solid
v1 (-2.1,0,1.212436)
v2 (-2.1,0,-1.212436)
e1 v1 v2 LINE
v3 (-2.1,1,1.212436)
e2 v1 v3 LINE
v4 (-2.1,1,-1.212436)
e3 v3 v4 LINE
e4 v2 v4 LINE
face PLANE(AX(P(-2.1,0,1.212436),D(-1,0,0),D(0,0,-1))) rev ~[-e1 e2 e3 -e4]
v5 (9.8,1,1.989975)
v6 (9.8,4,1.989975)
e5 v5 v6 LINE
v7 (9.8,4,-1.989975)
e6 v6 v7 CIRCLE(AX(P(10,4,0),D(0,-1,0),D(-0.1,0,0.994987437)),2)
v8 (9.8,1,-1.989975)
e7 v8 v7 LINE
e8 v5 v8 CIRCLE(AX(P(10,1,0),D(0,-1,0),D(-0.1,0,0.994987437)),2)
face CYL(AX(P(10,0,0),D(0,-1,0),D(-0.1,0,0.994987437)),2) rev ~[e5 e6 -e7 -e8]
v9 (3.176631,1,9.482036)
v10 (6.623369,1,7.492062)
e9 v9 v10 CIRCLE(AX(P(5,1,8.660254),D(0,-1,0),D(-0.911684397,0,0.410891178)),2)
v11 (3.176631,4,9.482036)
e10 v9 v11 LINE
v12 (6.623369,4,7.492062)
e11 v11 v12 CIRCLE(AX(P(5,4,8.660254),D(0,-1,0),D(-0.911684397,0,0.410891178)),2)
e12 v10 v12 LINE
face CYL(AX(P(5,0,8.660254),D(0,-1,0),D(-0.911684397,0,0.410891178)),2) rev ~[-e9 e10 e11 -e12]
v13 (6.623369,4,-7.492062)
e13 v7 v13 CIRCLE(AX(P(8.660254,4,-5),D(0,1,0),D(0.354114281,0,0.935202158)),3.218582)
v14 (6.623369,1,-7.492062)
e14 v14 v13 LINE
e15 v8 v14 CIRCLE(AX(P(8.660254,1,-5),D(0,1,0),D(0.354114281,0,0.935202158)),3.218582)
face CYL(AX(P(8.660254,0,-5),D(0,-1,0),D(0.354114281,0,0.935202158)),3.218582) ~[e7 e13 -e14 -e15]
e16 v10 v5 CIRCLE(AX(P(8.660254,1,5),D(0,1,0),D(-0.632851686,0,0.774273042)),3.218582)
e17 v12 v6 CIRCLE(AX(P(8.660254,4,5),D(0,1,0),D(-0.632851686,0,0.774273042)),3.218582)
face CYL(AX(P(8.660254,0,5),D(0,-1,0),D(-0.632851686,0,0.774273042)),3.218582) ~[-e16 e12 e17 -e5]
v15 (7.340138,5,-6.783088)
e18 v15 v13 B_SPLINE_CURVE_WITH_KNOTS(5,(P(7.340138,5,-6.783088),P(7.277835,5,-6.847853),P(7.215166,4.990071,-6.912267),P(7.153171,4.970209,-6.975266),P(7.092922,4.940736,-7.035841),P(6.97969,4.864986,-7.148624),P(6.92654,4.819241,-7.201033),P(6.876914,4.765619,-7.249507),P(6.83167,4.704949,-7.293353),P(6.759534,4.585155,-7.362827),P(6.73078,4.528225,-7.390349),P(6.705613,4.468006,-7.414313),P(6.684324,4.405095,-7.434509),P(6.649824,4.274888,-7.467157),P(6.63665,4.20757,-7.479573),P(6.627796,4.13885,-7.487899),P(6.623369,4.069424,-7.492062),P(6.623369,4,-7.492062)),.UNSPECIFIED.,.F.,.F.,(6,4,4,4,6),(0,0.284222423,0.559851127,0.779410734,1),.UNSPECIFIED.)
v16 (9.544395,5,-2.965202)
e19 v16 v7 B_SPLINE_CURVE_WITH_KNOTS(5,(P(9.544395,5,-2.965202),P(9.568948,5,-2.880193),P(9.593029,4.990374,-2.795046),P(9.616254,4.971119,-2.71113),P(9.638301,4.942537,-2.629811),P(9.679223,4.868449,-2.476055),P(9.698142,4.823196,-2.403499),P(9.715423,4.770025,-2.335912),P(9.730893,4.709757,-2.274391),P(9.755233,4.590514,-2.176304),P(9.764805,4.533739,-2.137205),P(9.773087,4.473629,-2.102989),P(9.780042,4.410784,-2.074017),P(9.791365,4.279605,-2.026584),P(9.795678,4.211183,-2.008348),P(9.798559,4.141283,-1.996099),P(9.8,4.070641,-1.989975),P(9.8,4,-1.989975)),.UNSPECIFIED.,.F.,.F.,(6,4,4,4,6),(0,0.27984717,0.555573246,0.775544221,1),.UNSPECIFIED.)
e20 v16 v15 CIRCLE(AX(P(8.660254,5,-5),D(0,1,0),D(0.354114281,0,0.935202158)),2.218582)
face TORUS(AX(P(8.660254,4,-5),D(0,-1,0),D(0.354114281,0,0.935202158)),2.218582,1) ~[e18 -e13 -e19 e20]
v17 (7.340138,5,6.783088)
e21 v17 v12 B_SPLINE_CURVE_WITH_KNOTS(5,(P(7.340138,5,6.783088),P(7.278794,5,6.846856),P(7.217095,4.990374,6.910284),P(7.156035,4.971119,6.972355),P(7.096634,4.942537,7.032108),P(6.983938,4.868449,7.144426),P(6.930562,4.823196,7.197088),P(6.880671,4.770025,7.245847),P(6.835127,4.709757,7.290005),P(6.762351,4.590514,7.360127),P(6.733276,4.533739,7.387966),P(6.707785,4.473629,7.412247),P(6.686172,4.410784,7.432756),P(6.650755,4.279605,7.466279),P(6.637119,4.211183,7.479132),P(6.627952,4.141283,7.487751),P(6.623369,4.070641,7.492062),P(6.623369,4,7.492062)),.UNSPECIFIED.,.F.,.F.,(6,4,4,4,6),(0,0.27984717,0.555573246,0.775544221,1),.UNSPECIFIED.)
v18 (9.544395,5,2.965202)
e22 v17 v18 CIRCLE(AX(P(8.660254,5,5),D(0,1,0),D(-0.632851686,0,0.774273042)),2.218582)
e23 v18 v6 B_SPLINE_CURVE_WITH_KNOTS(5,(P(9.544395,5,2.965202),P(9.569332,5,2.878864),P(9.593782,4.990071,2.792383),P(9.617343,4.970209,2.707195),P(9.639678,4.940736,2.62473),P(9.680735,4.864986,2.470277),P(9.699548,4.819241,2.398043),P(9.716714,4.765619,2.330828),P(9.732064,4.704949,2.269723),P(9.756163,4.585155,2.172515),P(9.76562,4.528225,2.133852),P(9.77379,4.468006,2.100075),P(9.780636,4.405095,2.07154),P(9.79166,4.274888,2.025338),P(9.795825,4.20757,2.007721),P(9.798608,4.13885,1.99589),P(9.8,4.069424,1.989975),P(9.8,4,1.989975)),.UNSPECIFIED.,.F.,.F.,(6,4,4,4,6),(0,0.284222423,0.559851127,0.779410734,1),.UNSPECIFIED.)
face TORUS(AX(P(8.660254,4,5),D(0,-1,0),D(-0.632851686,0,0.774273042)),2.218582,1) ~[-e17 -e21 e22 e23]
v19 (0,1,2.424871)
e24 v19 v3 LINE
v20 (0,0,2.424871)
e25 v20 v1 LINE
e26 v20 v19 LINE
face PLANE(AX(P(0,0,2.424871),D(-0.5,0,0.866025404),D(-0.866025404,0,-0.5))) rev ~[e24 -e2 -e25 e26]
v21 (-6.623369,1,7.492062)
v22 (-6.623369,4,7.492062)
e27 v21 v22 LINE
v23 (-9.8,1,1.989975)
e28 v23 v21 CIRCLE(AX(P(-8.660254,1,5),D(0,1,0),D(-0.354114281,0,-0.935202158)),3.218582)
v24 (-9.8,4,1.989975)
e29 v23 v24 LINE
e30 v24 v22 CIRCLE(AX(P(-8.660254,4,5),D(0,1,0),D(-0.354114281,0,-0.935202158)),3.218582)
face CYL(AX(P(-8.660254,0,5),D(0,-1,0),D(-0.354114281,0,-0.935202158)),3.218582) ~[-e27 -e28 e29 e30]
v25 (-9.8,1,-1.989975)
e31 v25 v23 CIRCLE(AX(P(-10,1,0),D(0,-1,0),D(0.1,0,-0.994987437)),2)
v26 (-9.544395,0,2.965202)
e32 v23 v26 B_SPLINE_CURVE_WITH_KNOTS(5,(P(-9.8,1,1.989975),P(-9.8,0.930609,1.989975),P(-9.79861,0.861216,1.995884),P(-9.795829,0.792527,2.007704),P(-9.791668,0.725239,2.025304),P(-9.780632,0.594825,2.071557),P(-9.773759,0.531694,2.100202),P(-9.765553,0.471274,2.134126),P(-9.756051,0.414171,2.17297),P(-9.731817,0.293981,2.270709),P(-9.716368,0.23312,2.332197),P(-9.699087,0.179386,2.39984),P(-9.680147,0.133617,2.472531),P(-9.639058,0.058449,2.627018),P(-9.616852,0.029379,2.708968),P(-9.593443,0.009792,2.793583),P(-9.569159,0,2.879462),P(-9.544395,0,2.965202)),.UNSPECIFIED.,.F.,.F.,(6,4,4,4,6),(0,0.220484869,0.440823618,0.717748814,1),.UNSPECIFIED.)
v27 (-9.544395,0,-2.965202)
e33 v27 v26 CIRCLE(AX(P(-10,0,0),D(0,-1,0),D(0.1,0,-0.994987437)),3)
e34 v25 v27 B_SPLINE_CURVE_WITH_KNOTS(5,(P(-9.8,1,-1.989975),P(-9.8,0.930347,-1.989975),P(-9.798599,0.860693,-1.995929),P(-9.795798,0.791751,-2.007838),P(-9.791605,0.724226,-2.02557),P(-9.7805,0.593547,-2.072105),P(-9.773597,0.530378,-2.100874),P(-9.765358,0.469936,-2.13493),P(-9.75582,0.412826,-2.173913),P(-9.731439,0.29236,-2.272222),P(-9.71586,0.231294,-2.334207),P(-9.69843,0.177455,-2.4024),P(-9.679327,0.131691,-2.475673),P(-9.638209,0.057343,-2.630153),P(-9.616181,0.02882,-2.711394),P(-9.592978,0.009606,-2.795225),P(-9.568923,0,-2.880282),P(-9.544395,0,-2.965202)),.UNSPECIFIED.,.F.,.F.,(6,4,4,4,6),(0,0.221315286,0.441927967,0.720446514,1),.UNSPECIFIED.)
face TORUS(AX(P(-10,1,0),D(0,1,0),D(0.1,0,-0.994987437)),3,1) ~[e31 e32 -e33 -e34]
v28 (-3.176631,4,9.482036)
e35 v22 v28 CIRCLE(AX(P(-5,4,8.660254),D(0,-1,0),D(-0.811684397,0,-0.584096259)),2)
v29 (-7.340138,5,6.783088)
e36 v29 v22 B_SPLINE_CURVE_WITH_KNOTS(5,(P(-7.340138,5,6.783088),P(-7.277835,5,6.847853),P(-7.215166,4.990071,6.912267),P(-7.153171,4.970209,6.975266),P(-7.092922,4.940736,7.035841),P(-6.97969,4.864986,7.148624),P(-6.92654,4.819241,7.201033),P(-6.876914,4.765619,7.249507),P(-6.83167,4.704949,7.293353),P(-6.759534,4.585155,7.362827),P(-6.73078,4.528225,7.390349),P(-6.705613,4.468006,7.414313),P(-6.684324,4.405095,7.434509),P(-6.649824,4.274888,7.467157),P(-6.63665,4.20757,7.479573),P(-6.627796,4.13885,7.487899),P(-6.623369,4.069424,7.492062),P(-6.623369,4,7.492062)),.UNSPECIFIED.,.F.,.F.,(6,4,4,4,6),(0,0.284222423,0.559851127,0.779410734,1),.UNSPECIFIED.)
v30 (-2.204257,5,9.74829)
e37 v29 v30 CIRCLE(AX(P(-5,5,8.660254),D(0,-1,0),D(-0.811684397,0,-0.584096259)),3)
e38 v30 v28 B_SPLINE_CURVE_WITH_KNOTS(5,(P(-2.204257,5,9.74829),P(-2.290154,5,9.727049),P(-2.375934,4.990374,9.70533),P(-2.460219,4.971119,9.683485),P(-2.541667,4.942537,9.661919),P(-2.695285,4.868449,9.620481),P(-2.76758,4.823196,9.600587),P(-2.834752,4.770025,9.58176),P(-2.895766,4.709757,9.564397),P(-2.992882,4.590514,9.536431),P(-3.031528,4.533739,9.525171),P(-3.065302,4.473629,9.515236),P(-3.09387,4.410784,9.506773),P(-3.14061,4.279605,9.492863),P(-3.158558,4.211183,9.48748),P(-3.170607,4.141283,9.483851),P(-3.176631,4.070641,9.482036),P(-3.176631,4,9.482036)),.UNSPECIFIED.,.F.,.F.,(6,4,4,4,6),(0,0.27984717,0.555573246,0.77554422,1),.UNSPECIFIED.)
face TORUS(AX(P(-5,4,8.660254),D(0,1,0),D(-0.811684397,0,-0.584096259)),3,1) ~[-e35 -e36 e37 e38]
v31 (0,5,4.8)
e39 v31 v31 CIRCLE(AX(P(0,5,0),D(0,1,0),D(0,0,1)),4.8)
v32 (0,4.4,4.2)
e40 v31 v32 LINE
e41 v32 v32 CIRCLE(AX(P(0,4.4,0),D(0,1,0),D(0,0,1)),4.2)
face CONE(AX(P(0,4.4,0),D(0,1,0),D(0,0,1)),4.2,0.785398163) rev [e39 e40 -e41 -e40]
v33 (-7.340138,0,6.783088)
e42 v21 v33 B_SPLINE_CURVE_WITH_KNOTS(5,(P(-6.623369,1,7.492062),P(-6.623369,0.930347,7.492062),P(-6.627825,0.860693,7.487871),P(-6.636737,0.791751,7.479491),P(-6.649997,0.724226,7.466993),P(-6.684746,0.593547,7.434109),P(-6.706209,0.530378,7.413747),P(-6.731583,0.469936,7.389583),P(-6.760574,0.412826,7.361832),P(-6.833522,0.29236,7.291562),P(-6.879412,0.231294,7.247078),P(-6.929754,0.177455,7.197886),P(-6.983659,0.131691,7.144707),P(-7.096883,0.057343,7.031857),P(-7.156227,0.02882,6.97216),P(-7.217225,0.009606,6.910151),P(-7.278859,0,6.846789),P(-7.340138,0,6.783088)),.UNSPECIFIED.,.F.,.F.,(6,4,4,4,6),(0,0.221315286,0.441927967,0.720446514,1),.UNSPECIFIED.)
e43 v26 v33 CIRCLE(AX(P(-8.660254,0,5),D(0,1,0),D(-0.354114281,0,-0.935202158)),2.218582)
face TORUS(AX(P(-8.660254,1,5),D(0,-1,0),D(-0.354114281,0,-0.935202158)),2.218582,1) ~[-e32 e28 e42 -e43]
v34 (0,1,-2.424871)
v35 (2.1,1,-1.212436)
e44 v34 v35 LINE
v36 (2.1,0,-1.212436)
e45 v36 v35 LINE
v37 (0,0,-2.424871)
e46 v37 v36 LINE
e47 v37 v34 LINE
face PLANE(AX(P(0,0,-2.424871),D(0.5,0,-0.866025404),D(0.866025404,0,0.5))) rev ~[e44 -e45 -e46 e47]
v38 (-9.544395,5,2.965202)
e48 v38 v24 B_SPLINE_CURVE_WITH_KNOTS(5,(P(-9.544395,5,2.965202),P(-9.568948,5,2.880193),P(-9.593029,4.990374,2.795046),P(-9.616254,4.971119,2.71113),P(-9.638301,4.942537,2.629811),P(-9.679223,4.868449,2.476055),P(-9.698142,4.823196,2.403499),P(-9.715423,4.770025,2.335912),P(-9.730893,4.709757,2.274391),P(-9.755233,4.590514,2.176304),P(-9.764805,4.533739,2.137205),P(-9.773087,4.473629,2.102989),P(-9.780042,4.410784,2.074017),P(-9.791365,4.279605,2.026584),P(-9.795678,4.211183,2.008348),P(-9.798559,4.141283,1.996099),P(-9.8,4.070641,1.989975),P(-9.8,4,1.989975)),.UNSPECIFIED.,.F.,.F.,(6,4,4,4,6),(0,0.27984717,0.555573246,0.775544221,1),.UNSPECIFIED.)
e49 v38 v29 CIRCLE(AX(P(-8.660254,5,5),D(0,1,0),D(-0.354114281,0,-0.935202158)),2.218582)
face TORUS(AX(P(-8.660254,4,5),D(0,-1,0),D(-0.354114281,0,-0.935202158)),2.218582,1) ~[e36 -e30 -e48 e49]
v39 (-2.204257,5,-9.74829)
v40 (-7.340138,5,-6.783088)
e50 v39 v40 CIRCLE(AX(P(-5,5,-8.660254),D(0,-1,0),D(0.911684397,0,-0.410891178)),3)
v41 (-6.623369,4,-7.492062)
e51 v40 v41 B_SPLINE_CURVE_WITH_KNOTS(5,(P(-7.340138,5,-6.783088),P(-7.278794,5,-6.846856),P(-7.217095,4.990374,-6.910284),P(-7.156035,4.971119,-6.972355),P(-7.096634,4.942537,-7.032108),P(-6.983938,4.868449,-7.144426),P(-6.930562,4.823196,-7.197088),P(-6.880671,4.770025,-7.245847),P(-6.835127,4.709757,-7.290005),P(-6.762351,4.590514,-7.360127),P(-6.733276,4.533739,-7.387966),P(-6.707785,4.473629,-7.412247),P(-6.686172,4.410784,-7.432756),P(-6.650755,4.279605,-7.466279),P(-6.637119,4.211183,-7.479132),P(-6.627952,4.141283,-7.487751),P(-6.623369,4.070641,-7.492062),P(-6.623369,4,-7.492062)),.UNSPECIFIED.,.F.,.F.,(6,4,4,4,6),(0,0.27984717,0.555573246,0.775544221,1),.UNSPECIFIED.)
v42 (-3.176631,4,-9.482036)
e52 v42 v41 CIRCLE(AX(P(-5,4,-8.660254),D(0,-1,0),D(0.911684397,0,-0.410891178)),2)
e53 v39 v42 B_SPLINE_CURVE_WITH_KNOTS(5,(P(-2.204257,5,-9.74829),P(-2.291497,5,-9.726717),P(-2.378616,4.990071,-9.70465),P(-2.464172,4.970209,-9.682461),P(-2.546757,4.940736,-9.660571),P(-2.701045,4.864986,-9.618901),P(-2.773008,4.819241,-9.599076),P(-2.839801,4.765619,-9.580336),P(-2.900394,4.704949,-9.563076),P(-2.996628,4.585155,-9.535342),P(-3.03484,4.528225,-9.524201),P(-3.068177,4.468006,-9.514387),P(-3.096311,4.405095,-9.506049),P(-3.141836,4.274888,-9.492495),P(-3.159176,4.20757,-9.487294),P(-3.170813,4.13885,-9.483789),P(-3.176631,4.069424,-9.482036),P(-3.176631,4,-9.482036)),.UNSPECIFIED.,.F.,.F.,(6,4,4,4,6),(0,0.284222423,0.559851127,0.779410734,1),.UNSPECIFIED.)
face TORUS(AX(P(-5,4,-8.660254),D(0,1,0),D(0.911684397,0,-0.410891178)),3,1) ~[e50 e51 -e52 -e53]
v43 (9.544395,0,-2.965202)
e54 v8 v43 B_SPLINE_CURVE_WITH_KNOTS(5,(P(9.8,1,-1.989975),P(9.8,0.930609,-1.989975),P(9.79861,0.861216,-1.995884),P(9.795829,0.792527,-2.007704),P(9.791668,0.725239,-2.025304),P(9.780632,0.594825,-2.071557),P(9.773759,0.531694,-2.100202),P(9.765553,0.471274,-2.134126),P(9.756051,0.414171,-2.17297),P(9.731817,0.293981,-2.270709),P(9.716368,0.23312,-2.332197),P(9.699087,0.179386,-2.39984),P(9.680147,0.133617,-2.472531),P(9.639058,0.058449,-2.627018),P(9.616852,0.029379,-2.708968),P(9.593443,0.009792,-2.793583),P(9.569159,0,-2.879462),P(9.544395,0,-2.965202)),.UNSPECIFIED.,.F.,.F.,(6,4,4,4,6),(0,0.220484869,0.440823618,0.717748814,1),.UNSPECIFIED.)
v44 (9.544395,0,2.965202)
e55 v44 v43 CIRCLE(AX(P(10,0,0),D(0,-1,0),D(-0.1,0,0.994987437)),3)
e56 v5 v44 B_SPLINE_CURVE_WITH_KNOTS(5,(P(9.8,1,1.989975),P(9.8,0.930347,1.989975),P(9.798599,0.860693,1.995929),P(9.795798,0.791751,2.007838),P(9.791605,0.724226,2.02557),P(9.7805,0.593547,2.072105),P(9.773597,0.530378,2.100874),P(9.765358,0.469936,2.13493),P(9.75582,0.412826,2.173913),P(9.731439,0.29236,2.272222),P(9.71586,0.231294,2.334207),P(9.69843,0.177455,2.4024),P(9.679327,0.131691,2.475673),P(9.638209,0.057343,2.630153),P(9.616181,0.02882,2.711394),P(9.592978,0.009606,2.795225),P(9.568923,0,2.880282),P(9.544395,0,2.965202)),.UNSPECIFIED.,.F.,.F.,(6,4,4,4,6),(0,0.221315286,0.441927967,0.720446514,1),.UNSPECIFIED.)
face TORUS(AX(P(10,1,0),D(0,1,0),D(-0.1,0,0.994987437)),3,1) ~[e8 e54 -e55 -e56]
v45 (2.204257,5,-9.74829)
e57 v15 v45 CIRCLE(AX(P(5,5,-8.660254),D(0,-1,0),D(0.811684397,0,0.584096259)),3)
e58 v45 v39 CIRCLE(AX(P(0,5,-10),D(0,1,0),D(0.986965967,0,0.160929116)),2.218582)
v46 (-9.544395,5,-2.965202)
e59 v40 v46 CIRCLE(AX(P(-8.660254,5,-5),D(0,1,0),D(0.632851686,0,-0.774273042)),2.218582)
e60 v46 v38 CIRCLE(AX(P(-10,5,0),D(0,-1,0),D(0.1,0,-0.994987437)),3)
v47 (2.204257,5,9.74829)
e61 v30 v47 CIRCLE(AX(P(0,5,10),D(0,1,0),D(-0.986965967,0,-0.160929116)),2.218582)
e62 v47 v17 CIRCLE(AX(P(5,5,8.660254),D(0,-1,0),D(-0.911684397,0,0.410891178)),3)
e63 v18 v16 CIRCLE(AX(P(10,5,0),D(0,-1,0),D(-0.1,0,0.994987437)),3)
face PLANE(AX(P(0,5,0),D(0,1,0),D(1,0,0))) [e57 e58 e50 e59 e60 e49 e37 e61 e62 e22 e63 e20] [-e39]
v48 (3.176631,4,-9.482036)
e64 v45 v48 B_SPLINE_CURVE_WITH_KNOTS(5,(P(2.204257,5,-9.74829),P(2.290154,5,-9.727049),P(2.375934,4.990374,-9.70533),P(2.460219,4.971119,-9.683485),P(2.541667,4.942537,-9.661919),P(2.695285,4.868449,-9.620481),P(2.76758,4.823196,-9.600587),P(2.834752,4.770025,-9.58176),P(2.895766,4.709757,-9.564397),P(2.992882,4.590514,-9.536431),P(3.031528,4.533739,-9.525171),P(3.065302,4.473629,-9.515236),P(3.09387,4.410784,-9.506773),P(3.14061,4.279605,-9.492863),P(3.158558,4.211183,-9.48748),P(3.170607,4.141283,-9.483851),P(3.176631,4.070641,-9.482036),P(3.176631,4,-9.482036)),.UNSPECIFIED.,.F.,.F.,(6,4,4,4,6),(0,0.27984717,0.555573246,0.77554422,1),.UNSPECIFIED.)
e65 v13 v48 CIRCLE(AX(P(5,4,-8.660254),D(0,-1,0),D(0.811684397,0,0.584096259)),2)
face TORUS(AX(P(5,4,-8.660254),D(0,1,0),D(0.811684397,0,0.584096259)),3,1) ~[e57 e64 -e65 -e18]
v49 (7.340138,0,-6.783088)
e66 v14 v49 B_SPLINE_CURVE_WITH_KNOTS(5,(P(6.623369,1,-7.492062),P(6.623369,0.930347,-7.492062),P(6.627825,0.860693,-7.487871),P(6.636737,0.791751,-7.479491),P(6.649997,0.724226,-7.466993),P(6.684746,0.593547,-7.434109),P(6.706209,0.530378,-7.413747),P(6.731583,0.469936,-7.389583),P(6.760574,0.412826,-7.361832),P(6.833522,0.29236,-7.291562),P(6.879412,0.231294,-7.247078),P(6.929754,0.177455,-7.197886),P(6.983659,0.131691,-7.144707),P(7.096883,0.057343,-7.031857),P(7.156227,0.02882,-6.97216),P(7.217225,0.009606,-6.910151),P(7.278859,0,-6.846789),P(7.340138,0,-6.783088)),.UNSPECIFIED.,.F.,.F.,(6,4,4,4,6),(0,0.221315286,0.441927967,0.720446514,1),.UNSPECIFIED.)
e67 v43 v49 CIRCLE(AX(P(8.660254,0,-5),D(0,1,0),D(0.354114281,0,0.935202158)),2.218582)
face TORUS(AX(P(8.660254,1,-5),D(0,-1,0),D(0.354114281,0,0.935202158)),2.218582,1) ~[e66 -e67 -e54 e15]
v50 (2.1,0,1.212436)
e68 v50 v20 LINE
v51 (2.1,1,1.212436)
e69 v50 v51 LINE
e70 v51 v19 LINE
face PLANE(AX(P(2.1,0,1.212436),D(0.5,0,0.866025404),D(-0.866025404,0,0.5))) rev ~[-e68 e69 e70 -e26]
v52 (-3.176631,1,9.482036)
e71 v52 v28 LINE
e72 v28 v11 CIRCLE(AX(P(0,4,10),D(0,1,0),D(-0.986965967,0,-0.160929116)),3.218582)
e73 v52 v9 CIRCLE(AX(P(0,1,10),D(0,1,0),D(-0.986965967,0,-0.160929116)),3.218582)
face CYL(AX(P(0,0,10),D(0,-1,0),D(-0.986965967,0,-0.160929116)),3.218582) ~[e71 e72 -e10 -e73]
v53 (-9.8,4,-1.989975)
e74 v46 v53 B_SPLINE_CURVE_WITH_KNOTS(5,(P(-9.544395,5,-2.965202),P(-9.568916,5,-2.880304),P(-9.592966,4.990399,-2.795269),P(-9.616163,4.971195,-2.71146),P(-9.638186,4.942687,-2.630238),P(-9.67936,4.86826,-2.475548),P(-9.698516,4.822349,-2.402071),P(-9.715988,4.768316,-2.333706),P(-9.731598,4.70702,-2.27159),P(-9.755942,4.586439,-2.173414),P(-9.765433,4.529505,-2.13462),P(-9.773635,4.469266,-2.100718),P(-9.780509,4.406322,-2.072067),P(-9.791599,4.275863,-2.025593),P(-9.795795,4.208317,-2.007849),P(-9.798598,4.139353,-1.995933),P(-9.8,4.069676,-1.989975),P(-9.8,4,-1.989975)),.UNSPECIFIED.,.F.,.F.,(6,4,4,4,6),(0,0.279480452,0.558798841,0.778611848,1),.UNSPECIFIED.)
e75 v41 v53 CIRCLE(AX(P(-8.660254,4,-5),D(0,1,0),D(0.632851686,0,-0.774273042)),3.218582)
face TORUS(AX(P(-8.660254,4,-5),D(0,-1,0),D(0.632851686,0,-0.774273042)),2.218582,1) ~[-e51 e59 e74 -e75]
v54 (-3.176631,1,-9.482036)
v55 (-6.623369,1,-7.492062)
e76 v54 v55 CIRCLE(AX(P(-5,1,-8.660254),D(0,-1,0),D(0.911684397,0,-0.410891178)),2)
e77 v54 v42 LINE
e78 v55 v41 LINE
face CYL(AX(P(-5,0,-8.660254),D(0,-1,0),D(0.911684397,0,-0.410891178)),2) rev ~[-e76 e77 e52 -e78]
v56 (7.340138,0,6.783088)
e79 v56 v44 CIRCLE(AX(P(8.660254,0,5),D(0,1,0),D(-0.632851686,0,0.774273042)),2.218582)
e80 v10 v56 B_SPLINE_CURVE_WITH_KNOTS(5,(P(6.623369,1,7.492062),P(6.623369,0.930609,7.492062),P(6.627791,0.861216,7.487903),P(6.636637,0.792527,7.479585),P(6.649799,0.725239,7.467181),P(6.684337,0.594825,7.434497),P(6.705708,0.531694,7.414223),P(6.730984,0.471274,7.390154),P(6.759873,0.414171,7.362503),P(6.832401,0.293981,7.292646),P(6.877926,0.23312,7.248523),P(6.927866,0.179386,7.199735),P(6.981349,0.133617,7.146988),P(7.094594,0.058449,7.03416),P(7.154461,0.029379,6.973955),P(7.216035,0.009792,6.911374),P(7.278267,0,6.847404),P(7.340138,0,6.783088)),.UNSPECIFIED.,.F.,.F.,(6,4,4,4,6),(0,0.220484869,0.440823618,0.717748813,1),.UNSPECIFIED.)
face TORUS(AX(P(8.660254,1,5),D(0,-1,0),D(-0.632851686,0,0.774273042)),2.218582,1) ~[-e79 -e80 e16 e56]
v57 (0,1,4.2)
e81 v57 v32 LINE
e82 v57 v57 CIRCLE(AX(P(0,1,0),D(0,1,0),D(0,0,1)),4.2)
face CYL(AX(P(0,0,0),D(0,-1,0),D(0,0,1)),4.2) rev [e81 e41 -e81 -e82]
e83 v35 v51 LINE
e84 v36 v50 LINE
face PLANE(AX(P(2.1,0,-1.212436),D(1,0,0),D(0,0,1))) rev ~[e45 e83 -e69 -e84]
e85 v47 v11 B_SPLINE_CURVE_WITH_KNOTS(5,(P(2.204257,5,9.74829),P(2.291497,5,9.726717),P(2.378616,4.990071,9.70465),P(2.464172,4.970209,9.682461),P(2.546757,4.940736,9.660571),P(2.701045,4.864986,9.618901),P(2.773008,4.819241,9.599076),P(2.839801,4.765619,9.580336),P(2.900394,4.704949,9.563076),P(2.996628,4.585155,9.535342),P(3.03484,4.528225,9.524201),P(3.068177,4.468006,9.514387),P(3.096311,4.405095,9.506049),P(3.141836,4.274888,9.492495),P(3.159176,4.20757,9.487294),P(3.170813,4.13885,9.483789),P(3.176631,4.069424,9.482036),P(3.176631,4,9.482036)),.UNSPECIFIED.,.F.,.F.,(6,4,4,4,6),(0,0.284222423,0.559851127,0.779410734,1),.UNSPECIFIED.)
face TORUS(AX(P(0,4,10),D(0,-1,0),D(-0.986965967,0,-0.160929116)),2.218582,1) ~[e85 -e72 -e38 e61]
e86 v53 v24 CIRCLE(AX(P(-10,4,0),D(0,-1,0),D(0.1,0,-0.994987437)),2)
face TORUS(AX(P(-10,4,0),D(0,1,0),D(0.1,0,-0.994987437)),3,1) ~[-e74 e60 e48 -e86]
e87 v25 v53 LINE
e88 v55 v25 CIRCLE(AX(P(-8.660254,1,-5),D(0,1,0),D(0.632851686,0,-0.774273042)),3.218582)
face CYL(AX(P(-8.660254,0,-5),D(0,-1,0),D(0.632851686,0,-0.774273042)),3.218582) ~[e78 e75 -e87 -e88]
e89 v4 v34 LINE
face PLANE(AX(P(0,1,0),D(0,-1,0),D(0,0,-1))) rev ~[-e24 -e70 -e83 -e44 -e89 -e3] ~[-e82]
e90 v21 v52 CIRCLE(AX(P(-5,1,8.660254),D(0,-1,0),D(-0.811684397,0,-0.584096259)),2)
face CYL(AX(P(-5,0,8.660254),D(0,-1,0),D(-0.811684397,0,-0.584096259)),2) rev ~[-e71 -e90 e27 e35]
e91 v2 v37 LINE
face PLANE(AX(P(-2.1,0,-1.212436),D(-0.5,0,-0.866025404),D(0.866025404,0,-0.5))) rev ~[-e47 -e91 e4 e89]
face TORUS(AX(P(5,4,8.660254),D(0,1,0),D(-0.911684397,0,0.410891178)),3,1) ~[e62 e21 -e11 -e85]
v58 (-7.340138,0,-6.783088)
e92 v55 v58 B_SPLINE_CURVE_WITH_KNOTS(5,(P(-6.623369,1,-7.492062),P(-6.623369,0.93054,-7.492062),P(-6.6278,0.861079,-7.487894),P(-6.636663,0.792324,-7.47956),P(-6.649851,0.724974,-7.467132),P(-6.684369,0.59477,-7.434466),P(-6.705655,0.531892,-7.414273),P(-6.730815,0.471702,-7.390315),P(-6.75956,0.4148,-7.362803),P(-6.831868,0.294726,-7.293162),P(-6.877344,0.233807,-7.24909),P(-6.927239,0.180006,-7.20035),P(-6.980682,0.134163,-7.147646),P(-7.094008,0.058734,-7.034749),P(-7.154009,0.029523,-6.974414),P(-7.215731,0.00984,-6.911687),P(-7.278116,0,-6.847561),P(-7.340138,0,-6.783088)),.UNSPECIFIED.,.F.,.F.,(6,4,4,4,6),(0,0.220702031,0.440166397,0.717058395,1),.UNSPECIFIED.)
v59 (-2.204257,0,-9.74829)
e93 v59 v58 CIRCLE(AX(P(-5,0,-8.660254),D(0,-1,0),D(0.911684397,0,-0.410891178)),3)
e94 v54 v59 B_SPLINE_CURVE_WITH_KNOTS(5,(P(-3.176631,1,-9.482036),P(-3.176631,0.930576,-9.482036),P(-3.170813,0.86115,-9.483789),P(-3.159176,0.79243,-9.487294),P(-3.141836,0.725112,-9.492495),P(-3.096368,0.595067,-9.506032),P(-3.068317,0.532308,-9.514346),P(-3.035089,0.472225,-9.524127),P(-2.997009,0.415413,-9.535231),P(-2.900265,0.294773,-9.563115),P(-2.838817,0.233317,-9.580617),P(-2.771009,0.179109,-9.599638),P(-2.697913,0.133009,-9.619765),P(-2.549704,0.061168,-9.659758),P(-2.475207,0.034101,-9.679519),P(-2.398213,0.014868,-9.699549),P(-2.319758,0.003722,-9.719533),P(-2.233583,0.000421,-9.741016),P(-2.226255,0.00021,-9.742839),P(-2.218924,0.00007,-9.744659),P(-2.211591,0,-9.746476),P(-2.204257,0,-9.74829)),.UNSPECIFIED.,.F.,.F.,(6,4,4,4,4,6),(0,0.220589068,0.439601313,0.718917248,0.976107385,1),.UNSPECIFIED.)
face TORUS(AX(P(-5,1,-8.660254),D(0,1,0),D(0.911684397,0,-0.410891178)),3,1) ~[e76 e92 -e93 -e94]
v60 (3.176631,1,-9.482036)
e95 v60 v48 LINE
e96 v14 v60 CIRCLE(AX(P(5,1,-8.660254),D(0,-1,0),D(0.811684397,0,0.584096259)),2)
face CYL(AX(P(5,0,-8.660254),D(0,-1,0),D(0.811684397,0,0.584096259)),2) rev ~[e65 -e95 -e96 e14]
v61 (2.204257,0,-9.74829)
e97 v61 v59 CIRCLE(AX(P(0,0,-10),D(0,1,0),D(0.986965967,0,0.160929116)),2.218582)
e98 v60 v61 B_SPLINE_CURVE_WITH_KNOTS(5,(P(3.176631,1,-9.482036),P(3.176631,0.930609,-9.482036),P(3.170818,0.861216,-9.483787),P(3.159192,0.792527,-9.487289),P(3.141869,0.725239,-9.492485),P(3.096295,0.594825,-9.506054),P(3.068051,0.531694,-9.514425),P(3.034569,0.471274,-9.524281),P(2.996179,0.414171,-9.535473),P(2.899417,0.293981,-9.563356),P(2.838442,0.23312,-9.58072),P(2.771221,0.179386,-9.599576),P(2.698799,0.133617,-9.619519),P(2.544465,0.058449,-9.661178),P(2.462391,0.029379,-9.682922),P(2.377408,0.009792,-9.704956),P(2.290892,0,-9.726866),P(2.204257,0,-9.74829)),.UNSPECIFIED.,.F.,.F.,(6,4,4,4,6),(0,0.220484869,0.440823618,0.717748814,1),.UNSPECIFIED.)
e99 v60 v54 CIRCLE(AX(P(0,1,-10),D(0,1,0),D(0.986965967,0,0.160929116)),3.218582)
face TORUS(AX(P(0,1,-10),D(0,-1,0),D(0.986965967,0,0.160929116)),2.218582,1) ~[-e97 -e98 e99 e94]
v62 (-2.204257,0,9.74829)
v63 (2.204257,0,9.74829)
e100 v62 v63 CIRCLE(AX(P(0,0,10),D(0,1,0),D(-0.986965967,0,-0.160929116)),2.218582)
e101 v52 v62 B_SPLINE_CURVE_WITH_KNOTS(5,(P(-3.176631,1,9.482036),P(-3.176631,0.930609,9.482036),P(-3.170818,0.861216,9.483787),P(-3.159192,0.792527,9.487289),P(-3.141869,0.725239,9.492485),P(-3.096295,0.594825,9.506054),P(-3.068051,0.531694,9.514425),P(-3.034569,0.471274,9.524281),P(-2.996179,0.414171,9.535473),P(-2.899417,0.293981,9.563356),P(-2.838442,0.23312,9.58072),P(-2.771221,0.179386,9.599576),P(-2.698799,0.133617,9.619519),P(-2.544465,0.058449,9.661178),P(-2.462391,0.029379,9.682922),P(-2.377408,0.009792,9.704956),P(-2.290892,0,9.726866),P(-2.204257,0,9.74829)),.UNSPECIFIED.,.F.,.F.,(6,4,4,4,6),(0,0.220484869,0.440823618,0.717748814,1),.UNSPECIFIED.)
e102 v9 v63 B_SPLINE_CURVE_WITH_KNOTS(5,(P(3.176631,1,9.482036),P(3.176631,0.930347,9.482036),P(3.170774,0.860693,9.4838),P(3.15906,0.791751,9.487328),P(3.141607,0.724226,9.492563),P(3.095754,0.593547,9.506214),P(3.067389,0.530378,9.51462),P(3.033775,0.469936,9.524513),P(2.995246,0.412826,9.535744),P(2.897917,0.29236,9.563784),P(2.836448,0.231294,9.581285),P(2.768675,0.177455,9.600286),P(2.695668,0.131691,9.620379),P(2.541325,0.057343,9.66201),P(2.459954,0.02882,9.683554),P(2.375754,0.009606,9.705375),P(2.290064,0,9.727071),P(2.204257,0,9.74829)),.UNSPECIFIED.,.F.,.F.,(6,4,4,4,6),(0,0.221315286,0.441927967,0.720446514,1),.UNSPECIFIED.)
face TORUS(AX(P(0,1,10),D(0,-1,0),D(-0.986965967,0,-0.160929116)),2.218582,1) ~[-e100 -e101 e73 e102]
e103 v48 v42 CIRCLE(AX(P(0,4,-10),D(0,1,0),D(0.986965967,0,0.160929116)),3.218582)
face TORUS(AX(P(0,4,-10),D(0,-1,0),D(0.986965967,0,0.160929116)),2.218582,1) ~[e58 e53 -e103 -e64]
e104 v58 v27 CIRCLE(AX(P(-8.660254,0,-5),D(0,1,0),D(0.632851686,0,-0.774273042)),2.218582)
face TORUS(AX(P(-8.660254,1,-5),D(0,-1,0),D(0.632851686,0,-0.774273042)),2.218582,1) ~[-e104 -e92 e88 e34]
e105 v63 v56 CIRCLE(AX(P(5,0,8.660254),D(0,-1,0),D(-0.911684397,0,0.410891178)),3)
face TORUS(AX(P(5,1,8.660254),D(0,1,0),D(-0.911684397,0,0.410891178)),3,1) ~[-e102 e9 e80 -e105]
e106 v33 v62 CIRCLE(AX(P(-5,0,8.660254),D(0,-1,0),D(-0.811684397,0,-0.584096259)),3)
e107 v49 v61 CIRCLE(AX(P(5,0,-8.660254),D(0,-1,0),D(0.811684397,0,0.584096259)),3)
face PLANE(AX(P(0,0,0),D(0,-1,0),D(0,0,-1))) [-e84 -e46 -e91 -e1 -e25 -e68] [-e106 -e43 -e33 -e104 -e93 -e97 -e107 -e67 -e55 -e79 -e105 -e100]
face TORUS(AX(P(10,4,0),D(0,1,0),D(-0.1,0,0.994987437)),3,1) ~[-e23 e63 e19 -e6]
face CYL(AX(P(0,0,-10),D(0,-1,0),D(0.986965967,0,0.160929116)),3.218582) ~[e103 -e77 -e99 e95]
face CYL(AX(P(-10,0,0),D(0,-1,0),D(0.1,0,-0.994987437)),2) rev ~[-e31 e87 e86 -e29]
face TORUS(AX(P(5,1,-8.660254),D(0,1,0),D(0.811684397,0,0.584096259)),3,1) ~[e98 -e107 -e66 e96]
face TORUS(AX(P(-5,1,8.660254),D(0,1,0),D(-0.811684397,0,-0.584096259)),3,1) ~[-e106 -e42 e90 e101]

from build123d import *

# Parameters (mm, degrees)
SKETCH1_R           = 4.2
BOSS_EXTRUDE1_DEPTH = 5
SKETCH2_R           = 4.2
BOSS_EXTRUDE2_DEPTH = 1
FILLET1_R           = 1
CHAMFER1_SIZE       = 0.6
FILLET2_R           = 1


with BuildPart() as part:
    # Sketch1 → Boss-Extrude1 (new body)
    with BuildSketch(Plane(origin=(0, 0, 0), x_dir=(1, 0, 0), z_dir=(0, 1, 0))):
        with BuildLine():
            ThreePointArc((3.176631206, 9.482036394), (0, 13.218582315), (-3.176631206, 9.482036394))
            ThreePointArc((-3.176631206, 9.482036394), (-4, 6.92820323), (-6.623368794, 7.49206152))
            ThreePointArc((-6.623368794, 7.49206152), (-11.447628086, 6.609291157), (-9.8, 1.989974874))
            ThreePointArc((-9.8, 1.989974874), (-8, 0), (-9.8, -1.989974874))
            ThreePointArc((-9.8, -1.989974874), (-11.447628086, -6.609291157), (-6.623368794, -7.49206152))
            ThreePointArc((-6.623368794, -7.49206152), (-4, -6.92820323), (-3.176631206, -9.482036394))
            ThreePointArc((-3.176631206, -9.482036394), (0, -13.218582315), (3.176631206, -9.482036394))
            ThreePointArc((3.176631206, -9.482036394), (4, -6.92820323), (6.623368794, -7.49206152))
            ThreePointArc((6.623368794, -7.49206152), (11.447628086, -6.609291157), (9.8, -1.989974874))
            ThreePointArc((9.8, -1.989974874), (8, 0), (9.8, 1.989974874))
            ThreePointArc((9.8, 1.989974874), (11.447628086, 6.609291157), (6.623368794, 7.49206152))
            ThreePointArc((6.623368794, 7.49206152), (4, 6.92820323), (3.176631206, 9.482036394))
        make_face()
        with Locations(Location((0, 0, 0), (0, 0, 270))):
            Circle(SKETCH1_R, mode=Mode.SUBTRACT)
    extrude(amount=BOSS_EXTRUDE1_DEPTH)

    # Sketch2 → Boss-Extrude2 (add)
    with BuildSketch(Plane.XZ):
        with Locations(Location((0, 0, 0), (0, 0, 270))):
            Circle(SKETCH2_R)
        Polygon((0, 2.424871131), (-2.1, 1.212435565), (-2.1, -1.212435565), (0, -2.424871131), (2.1, -1.212435565), (2.1, 1.212435565), align=None, mode=Mode.SUBTRACT)
    extrude(amount=-BOSS_EXTRUDE2_DEPTH)

    # Fillet1
    fillet1_edges = [part.edges().sort_by_distance(p)[0] for p in [
        (0, 0, -13.218582315),
        (4, 0, -6.92820323),
        (11.447628086, 0, -6.609291157),
        (8, 0, 0),
        (11.447628086, 0, 6.609291157),
        (4, 0, 6.92820323),
        (0, 0, 13.218582315),
        (-4, 0, 6.92820323),
        (-11.447628086, 0, 6.609291157),
        (-8, 0, 0),
        (-11.447628086, 0, -6.609291157),
        (-4, 0, -6.92820323),
    ]]
    fillet(fillet1_edges, radius=FILLET1_R)

    # Chamfer1
    chamfer1_edges = [part.edges().sort_by_distance(p)[0] for p in [
        (0, 5, -4.2),
    ]]
    chamfer(chamfer1_edges, length=CHAMFER1_SIZE)

    # Fillet2
    fillet2_edges = [part.edges().sort_by_distance(p)[0] for p in [
        (-8, 5, 0),
        (-11.447628086, 5, 6.609291157),
        (-4, 5, 6.92820323),
        (0, 5, 13.218582315),
        (4, 5, 6.92820323),
        (11.447628086, 5, 6.609291157),
        (8, 5, 0),
        (11.447628086, 5, -6.609291157),
        (4, 5, -6.92820323),
        (0, 5, -13.218582315),
        (-4, 5, -6.92820323),
        (-11.447628086, 5, -6.609291157),
    ]]
    fillet(fillet2_edges, radius=FILLET2_R)


solid = part.part
